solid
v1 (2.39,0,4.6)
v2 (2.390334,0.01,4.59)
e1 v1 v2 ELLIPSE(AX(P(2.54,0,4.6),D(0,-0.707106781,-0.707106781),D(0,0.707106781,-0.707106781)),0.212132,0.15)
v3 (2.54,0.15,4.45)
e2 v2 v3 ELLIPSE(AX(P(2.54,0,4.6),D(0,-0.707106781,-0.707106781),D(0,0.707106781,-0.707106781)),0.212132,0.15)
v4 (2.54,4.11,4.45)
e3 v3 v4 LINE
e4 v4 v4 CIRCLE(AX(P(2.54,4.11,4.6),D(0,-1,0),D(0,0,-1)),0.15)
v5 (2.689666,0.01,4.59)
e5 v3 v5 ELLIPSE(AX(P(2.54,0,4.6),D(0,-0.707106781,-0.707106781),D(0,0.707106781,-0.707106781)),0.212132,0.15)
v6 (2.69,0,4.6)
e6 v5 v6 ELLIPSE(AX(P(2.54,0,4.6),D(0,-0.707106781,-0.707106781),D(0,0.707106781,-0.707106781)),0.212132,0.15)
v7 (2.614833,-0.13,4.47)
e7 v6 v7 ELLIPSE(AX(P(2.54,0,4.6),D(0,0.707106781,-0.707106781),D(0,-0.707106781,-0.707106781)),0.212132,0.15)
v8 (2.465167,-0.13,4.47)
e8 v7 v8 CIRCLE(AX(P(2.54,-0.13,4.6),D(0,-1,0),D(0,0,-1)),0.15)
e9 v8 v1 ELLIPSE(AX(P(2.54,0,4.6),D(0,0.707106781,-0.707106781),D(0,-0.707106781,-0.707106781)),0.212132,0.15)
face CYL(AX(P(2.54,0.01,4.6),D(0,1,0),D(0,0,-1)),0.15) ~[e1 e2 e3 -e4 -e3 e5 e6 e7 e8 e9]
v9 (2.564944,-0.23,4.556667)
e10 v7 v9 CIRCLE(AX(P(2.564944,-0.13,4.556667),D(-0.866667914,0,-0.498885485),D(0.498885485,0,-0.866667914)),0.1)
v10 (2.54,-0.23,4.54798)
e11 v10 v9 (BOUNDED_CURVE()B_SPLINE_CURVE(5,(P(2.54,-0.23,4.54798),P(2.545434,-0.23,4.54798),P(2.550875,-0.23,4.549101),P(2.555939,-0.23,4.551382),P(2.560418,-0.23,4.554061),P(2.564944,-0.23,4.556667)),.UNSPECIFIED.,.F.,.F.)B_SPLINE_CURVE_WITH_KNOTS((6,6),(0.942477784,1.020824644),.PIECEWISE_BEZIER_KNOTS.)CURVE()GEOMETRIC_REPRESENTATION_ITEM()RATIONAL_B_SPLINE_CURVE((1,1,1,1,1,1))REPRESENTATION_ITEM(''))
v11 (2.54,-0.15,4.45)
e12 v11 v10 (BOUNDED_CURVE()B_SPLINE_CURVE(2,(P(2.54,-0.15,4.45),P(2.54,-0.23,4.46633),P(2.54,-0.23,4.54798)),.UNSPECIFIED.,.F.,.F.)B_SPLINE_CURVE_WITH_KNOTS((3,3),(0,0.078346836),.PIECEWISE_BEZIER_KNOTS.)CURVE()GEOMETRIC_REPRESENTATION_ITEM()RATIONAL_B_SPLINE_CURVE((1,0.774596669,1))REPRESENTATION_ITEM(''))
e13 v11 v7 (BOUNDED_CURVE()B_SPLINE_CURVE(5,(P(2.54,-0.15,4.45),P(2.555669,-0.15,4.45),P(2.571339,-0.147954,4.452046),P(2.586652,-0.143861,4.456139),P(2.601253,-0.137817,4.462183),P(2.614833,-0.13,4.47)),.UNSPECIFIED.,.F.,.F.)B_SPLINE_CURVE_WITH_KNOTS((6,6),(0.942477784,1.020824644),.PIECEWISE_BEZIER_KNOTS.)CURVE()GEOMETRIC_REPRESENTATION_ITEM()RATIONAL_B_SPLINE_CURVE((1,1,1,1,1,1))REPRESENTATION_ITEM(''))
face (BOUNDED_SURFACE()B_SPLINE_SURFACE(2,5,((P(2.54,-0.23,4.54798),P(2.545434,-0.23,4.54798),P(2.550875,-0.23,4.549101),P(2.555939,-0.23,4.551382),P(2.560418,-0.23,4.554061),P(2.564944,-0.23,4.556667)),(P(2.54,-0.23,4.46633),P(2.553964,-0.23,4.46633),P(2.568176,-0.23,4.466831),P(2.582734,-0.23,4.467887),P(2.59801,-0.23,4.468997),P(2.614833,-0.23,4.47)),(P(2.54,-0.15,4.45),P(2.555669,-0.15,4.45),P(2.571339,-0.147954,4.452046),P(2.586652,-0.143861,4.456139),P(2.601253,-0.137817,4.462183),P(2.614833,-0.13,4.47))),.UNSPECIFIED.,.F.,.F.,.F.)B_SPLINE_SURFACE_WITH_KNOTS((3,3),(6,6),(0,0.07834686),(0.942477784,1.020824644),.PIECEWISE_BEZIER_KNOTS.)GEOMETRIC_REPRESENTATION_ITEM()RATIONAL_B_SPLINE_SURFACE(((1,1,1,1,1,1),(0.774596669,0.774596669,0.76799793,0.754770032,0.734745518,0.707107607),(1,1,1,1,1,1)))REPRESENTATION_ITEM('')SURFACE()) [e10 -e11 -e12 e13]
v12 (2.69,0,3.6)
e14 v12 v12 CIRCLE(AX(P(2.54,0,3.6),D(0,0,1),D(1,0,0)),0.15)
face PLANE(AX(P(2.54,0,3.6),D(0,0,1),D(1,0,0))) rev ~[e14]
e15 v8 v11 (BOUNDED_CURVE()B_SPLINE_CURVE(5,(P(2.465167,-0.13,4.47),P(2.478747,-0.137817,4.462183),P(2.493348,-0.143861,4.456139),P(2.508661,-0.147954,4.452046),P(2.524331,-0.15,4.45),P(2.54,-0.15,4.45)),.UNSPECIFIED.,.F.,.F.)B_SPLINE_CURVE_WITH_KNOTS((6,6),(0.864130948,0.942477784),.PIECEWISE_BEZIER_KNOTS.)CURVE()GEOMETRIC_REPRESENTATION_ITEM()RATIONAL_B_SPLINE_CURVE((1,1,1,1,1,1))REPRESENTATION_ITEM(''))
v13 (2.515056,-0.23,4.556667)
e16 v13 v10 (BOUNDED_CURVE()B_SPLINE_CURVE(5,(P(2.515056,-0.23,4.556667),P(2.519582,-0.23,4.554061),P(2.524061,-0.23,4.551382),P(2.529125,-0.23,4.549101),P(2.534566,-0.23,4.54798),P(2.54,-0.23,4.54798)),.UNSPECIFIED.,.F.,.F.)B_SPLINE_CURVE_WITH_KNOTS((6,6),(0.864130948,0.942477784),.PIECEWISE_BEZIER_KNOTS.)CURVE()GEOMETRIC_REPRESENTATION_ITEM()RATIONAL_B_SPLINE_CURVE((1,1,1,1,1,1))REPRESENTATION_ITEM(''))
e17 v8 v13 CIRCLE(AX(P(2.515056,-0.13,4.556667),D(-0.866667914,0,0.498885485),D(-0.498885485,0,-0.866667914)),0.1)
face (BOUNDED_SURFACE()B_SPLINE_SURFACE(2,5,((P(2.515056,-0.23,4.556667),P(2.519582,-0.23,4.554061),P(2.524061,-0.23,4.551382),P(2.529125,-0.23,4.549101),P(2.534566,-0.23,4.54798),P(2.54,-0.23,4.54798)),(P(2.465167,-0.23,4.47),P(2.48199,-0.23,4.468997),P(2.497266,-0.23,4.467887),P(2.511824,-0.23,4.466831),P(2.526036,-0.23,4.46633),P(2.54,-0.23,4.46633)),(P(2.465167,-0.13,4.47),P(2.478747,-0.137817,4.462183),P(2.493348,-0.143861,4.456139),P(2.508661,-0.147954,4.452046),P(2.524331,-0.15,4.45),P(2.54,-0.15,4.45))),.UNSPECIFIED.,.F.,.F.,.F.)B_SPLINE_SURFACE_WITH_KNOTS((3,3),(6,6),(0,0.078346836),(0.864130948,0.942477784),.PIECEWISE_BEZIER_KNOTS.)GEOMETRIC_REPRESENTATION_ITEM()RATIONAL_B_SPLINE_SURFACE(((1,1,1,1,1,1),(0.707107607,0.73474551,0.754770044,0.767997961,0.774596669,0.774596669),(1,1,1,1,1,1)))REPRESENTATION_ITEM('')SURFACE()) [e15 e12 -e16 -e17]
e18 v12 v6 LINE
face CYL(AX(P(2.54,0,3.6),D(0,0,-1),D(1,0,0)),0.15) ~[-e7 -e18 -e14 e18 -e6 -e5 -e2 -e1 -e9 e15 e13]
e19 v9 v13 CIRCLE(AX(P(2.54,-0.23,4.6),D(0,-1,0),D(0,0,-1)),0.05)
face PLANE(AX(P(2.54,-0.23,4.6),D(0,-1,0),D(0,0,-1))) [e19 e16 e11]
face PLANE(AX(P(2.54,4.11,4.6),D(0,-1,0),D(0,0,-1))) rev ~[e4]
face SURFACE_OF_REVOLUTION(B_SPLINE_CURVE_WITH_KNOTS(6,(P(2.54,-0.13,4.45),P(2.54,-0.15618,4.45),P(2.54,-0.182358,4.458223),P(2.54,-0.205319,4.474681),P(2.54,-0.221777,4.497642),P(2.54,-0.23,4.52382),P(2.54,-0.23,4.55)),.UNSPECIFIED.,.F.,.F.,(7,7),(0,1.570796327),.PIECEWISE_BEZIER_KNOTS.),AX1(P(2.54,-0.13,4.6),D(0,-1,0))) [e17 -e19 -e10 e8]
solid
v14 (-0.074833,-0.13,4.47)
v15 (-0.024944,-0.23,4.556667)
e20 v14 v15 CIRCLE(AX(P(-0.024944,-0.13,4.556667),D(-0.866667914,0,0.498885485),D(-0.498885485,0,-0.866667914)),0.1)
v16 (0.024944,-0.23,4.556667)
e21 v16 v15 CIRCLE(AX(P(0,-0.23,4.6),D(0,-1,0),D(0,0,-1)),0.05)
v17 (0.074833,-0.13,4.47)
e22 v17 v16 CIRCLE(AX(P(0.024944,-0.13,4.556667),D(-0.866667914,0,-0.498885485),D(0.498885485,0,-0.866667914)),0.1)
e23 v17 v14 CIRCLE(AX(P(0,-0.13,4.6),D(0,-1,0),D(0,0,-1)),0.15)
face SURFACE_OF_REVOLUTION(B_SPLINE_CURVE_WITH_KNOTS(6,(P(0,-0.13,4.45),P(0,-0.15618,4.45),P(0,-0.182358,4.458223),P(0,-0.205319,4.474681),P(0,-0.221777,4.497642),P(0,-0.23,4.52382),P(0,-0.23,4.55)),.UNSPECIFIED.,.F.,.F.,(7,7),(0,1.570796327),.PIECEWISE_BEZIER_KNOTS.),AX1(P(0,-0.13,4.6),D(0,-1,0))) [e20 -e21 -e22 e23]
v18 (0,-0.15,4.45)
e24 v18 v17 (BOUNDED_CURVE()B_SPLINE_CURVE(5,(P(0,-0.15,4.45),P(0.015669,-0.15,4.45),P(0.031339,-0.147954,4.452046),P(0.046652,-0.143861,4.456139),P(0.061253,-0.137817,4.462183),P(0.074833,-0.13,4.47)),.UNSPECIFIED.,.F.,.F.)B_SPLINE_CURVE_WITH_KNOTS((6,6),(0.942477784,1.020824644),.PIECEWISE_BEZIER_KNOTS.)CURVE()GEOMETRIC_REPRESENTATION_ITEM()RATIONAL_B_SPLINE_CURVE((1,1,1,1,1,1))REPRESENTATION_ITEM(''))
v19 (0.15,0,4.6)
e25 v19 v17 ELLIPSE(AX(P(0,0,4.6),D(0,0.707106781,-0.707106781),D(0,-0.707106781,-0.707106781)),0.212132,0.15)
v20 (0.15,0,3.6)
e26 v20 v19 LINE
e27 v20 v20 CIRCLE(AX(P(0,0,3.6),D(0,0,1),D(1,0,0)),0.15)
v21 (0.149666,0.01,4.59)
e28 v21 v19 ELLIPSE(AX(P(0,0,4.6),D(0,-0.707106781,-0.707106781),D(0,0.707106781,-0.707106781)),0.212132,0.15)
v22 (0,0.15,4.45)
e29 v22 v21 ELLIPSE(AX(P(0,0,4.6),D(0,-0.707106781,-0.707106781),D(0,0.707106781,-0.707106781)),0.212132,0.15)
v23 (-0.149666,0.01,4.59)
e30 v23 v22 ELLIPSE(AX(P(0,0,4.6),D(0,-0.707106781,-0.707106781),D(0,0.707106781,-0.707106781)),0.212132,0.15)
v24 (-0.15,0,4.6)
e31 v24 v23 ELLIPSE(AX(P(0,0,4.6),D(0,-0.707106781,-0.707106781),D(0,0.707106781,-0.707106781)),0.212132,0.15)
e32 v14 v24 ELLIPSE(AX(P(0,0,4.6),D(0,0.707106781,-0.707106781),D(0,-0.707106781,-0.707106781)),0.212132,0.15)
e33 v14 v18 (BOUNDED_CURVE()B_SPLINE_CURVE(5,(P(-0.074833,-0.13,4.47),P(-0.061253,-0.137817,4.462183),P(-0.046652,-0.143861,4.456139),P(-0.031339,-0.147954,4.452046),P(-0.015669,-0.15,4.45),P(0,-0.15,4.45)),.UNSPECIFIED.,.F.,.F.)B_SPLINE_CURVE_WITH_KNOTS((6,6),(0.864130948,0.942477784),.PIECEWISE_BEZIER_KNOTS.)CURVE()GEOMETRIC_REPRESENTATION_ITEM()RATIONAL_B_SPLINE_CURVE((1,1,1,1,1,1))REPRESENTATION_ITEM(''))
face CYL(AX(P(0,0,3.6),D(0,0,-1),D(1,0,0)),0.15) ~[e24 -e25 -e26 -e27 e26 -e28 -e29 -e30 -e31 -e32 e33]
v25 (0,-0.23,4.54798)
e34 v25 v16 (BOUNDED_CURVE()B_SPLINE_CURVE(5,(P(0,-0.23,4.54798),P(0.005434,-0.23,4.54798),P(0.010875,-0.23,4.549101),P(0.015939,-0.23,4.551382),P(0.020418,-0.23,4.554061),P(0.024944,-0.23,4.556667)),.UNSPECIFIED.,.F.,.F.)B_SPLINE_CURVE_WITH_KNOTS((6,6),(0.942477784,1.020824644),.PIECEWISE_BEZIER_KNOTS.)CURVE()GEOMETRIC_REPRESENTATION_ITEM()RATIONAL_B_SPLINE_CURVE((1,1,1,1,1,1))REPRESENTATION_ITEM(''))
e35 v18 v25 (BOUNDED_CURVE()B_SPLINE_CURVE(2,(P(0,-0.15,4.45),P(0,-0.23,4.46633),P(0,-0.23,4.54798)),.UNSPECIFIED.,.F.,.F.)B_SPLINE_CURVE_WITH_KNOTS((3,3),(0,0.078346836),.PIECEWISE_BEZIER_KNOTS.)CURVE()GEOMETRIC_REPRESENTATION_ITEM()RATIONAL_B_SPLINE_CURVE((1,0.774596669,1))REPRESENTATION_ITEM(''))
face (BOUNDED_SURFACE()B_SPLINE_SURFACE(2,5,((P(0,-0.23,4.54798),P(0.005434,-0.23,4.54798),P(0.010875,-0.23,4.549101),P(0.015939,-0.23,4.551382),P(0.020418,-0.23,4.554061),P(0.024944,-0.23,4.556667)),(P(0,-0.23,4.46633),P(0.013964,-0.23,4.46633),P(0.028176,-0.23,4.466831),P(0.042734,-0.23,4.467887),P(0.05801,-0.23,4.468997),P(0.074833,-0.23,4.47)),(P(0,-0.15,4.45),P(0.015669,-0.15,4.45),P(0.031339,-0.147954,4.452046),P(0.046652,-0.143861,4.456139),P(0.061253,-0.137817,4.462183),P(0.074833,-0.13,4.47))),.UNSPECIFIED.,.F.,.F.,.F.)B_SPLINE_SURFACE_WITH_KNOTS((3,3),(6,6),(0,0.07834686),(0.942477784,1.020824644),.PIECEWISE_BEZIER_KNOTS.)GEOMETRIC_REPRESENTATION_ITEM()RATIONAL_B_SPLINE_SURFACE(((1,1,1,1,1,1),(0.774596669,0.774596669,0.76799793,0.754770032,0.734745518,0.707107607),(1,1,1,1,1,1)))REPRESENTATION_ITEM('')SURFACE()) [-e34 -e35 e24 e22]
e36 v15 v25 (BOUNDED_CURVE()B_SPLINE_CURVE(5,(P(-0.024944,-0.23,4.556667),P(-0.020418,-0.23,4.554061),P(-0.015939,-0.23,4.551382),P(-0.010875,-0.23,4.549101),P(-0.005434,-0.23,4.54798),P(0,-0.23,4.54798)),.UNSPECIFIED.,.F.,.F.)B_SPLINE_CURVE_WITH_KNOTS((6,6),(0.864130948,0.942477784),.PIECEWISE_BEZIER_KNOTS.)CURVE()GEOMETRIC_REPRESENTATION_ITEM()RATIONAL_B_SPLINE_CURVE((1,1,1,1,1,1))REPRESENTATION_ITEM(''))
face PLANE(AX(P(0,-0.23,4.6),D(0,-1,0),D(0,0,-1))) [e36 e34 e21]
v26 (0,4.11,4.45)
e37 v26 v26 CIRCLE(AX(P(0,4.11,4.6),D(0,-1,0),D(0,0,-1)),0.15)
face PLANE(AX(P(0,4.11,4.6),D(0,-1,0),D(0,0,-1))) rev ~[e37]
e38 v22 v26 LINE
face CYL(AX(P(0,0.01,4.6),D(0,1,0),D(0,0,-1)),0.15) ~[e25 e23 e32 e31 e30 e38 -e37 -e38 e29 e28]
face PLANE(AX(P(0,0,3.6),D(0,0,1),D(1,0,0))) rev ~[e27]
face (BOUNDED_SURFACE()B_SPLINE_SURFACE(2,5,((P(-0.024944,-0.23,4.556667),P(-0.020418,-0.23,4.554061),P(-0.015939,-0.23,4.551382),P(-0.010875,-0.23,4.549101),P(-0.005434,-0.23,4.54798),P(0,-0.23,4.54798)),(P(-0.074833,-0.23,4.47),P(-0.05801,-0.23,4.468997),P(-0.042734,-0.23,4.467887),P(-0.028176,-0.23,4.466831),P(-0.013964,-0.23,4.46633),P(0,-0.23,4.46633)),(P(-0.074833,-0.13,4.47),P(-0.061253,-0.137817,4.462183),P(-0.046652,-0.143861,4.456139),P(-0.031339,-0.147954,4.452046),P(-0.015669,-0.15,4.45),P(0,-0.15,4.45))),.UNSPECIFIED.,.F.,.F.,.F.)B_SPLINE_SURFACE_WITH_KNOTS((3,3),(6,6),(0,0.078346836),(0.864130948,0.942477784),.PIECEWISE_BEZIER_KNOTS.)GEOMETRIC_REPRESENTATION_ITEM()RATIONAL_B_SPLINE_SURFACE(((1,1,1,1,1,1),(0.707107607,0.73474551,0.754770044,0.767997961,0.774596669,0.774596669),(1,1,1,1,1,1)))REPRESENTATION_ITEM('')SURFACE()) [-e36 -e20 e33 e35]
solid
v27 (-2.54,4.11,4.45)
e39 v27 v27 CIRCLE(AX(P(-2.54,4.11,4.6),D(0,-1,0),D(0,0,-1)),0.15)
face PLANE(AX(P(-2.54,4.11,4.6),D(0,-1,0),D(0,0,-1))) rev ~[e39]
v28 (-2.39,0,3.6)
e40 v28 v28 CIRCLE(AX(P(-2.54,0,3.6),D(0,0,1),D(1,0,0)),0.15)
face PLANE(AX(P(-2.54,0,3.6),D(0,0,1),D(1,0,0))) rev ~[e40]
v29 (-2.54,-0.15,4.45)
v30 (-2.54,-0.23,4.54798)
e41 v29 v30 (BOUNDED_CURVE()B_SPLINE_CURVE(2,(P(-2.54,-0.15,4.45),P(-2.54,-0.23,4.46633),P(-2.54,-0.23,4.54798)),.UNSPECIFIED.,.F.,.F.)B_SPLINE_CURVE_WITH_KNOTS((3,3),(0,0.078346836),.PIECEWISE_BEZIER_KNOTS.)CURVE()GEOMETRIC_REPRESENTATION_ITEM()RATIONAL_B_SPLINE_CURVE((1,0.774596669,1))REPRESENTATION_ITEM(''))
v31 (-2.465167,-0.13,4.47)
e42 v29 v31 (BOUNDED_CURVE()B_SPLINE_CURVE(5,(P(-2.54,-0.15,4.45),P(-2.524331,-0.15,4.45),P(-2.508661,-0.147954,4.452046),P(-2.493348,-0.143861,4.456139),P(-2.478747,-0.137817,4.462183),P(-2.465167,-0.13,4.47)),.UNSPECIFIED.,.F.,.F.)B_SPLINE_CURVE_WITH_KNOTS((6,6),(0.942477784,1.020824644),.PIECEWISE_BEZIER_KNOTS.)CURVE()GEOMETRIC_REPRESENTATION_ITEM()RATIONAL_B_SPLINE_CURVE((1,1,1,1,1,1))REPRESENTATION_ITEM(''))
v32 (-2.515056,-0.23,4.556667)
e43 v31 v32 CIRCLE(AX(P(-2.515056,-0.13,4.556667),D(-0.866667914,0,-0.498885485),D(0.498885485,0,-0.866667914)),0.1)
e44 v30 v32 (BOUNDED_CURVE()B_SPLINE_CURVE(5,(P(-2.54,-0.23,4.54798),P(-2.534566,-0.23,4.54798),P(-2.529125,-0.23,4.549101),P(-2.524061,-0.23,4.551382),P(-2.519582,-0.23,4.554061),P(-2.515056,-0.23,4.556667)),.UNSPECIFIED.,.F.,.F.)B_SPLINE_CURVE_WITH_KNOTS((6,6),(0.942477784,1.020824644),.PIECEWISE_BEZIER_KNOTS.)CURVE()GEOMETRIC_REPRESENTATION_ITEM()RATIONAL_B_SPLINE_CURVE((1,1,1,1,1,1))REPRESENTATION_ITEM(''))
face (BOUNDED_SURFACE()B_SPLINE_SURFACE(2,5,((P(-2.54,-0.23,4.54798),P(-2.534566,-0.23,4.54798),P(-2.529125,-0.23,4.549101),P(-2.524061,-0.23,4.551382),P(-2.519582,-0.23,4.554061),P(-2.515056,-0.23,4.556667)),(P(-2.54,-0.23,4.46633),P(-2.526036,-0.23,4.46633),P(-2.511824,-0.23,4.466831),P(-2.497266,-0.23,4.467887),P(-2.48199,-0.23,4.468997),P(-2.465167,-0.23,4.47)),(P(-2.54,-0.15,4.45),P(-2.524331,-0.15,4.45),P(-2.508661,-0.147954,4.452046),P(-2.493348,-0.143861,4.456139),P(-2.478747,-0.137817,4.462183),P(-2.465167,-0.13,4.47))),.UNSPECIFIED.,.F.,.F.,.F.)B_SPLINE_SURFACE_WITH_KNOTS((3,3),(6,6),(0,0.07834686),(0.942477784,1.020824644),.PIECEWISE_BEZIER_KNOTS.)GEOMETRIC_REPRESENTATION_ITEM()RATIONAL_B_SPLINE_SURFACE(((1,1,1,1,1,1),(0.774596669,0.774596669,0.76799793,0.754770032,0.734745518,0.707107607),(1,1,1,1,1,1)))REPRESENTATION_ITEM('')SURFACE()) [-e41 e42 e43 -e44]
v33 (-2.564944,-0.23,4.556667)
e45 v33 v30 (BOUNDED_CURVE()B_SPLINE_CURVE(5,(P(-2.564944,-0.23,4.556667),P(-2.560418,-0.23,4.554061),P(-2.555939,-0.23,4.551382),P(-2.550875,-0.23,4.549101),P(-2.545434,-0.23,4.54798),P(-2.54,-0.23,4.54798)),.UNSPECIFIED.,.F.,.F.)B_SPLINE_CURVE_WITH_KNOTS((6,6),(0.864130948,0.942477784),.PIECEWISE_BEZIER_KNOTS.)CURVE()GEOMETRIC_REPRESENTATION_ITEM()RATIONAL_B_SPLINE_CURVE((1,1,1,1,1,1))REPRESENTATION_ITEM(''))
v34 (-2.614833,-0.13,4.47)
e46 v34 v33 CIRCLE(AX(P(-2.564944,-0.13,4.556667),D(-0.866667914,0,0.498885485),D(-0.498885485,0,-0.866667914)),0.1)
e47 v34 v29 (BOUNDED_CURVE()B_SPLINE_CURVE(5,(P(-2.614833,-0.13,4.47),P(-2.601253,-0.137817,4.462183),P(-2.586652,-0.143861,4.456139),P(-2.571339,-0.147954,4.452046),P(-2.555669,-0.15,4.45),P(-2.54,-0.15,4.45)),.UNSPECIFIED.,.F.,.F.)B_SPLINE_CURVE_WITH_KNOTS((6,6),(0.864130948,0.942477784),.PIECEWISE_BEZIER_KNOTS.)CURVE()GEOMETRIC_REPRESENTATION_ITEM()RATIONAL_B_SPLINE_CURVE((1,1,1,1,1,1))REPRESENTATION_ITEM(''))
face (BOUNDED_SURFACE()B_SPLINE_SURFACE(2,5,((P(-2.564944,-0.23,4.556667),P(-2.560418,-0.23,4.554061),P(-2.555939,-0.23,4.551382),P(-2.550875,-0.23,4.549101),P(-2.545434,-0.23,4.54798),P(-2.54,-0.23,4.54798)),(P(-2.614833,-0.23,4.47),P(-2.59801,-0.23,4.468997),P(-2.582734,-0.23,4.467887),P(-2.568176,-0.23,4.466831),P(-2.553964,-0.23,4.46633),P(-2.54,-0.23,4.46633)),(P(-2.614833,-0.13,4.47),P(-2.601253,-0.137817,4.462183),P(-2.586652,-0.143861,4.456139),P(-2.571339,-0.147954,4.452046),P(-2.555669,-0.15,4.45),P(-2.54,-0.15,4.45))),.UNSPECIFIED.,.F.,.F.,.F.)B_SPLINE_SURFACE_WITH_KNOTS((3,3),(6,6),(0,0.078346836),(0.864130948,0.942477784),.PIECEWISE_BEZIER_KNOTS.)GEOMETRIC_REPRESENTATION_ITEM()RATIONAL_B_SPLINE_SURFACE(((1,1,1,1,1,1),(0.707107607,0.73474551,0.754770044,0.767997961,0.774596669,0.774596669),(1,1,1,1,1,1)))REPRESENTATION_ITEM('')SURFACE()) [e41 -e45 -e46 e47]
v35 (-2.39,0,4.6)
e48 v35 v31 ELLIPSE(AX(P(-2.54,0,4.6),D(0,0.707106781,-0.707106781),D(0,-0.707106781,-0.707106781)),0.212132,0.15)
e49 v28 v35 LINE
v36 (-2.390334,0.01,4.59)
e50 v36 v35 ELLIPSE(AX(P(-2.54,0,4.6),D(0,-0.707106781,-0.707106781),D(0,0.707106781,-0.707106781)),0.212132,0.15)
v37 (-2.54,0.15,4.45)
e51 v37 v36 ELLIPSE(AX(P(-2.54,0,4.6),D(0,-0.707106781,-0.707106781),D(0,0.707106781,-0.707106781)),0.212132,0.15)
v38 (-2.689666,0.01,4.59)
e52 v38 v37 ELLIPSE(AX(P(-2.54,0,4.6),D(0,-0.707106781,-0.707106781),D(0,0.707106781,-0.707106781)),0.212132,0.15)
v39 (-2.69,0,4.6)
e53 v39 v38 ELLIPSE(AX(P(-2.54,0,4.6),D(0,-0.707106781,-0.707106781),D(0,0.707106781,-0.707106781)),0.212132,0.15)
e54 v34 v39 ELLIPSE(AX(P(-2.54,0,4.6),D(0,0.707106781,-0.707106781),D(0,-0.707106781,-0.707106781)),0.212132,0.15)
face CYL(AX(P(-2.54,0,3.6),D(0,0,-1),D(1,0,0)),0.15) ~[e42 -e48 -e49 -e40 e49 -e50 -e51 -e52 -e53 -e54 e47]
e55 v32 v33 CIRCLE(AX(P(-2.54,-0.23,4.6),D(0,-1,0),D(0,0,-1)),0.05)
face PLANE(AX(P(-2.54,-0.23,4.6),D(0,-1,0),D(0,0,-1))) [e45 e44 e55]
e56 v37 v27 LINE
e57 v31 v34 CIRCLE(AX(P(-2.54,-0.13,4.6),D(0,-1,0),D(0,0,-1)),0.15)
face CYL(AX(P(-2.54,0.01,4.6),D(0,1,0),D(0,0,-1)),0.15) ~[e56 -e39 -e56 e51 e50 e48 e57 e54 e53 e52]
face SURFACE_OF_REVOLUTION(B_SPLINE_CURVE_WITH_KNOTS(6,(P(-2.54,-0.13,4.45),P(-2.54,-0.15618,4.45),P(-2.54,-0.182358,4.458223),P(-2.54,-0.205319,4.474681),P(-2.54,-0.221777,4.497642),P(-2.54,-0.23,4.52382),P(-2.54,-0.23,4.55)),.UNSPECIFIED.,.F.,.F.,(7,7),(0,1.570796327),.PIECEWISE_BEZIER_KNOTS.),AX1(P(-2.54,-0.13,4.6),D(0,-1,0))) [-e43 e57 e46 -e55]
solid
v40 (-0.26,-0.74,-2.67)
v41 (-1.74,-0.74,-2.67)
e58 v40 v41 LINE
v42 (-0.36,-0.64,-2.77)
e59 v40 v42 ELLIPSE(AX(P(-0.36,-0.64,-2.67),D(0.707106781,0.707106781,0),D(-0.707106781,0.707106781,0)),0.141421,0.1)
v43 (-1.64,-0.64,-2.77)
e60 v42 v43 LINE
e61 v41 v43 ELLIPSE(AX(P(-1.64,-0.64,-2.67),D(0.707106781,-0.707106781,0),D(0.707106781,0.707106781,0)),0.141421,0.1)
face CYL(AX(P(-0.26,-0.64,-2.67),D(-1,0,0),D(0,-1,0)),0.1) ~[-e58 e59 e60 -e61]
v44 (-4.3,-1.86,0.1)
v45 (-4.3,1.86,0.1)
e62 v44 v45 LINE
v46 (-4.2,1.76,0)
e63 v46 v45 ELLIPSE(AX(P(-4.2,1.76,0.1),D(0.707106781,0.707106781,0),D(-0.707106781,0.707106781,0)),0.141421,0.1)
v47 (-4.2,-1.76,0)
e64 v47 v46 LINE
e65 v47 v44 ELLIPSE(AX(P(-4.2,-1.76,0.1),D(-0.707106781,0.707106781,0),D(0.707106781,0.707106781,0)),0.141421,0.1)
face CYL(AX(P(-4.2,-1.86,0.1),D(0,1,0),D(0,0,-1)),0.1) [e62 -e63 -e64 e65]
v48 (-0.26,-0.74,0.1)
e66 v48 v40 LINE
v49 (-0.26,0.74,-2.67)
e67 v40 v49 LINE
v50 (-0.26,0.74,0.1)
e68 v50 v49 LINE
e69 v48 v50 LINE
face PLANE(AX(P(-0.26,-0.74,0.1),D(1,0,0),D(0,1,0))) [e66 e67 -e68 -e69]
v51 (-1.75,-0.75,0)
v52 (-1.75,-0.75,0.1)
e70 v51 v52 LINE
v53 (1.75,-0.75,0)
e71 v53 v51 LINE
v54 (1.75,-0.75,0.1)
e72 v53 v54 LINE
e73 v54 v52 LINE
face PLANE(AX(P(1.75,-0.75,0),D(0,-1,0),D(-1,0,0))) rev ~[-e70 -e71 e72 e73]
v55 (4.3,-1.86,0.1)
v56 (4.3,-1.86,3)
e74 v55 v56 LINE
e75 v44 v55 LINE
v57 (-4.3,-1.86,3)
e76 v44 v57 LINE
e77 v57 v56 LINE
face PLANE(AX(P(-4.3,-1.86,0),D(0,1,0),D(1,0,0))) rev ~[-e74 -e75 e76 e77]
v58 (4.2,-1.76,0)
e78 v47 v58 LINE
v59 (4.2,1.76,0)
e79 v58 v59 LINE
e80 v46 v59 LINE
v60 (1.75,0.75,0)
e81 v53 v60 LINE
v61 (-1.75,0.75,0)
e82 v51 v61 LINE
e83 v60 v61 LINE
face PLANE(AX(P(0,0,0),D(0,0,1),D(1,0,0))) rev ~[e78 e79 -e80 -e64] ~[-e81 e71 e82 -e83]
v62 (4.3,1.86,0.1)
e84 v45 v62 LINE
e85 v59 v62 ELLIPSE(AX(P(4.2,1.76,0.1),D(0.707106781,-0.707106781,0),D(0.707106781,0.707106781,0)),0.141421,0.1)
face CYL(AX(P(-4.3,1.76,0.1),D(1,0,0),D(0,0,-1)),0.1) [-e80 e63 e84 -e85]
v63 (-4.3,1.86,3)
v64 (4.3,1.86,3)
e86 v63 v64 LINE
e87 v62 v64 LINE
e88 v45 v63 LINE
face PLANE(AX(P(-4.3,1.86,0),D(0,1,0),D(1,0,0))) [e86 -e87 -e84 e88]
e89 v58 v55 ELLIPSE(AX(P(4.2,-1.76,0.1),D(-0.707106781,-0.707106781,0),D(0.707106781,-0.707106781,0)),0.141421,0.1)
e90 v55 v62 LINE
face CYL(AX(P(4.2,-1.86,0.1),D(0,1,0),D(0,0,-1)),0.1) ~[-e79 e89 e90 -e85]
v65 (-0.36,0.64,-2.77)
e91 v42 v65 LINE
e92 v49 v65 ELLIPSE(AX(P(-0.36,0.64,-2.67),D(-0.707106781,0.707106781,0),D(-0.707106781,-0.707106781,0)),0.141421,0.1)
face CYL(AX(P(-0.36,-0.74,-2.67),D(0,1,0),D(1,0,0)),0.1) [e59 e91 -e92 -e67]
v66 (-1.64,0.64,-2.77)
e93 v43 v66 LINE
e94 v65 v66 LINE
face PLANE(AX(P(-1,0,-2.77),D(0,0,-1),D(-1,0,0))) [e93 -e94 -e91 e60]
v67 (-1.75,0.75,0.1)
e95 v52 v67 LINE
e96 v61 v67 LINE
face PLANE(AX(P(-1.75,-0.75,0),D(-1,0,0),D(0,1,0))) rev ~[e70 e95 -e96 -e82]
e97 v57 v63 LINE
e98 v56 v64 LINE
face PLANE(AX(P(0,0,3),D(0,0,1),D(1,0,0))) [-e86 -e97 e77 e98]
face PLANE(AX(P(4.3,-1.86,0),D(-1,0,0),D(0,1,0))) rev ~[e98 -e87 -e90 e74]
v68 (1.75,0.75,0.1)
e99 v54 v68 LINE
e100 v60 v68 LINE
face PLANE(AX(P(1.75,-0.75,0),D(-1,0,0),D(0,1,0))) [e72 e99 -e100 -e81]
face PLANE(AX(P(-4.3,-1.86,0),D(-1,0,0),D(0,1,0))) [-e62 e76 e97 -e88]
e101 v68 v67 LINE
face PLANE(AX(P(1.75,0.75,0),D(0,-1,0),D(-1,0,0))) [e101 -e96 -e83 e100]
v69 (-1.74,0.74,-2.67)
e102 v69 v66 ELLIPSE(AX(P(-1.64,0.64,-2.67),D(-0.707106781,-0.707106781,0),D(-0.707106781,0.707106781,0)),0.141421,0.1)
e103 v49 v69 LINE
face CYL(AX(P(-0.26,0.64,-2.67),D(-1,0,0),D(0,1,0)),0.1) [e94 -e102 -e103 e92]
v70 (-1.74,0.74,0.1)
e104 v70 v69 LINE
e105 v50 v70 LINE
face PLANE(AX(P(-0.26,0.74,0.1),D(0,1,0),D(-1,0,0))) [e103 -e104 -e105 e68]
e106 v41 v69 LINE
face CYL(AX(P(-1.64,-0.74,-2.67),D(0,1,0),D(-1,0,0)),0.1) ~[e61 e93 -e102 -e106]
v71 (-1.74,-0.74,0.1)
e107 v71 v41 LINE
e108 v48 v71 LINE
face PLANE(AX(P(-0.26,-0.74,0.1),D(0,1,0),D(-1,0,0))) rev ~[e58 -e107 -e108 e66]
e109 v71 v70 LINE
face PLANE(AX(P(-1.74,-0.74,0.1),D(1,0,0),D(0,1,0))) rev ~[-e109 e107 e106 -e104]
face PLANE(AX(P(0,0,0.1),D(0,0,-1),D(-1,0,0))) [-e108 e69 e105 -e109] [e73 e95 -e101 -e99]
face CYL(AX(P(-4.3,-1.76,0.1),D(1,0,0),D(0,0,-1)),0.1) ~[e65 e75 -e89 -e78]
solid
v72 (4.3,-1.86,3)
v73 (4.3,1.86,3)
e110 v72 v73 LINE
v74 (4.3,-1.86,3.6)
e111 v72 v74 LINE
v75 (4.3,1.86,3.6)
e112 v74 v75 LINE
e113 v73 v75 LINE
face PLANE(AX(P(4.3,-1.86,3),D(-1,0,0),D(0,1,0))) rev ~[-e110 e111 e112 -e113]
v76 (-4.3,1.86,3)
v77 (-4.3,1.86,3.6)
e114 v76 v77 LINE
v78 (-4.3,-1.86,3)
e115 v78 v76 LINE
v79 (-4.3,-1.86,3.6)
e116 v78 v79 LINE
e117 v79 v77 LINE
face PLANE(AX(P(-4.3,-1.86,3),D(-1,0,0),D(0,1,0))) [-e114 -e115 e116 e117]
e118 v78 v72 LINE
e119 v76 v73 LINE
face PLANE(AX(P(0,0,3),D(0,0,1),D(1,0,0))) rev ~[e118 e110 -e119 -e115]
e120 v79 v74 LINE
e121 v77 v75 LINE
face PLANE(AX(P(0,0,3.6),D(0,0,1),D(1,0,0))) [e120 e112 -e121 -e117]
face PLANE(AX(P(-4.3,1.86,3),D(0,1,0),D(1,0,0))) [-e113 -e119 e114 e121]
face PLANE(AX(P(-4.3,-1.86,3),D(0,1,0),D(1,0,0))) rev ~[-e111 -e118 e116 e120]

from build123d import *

# Parameters (mm, degrees)
SKETCH_1_W           = 8.6
SKETCH_1_H           = 3.72
EXTRUDE_1_DEPTH      = 3
SKETCH_2_W           = 8.6
SKETCH_2_H           = 3.72
EXTRUDE_2_DEPTH      = 0.6
SKETCH_3_W           = 3.5
SKETCH_3_H           = 1.5
CUT_EXTRUDE_1_DEPTH  = 0.1
SKETCH_4_W           = 1.48
SKETCH_4_H           = 1.48
EXTRUDE_3_DEPTH      = 2.87
FILLET_1_R           = 0.1
FILLET_2_R           = 0.1
SKETCH_5_R           = 0.15
EXTRUDE_4_DEPTH      = 1
EXTRUDE_4_2_DEPTH    = 1
EXTRUDE_4_3_DEPTH    = 1
SKETCH_6_R           = 0.15
EXTRUDE_5_DEPTH      = 0.24
EXTRUDE_5_DEPTH_BACK = 4.1
FILLET_3_R           = 0.1
FILLET_4_R           = 0.1
FILLET_5_R           = 0.1


with BuildPart() as part:
    # Эскиз1 → Бобышка-Вытянуть1 (new body)
    with BuildSketch(Plane.XY):
        Rectangle(SKETCH_1_W, SKETCH_1_H)
    extrude(amount=EXTRUDE_1_DEPTH)

    # Эскиз3 → Вырез-Вытянуть1 (cut)
    with BuildSketch(Plane(origin=(0, 0, 0), x_dir=(-1, 0, 0), z_dir=(0, 0, -1))):
        Rectangle(SKETCH_3_W, SKETCH_3_H)
    extrude(amount=-CUT_EXTRUDE_1_DEPTH, mode=Mode.SUBTRACT)

    # Эскиз4 → Бобышка-Вытянуть3 (add)
    with BuildSketch(Plane(origin=(0, 0, 0.1), x_dir=(-1, 0, 0), z_dir=(0, 0, -1))):
        with Locations((1, 0)):
            Rectangle(SKETCH_4_W, SKETCH_4_H)
    extrude(amount=EXTRUDE_3_DEPTH)

    # Скругление1
    fillet_1_edges = [part.edges().sort_by_distance(p)[0] for p in [
        (-1.74, 0, -2.77),
        (-1, 0.74, -2.77),
        (-0.26, 0, -2.77),
        (-1, -0.74, -2.77),
    ]]
    fillet(fillet_1_edges, radius=FILLET_1_R)

    # Скругление2
    fillet_2_edges = [part.edges().sort_by_distance(p)[0] for p in [
        (0, -1.86, 0),
        (-4.3, 0, 0),
        (0, 1.86, 0),
        (4.3, 0, 0),
    ]]
    fillet(fillet_2_edges, radius=FILLET_2_R)


with BuildPart() as body_2:
    # Эскиз2 → Бобышка-Вытянуть2 (new body)
    with BuildSketch(Plane.XY.offset(3)):
        Rectangle(SKETCH_2_W, SKETCH_2_H)
    extrude(amount=EXTRUDE_2_DEPTH)


with BuildPart() as body_3:
    # Эскиз5 → Бобышка-Вытянуть4 (new body)
    with BuildSketch(Plane.XY.offset(3.6)):
        Circle(SKETCH_5_R)
    extrude(amount=EXTRUDE_4_DEPTH)



with BuildPart() as body_4:
    # Эскиз5 → Extrude 4 2 (new body)
    with BuildSketch(Plane.XY.offset(3.6)):
        with Locations((-2.54, 0)):
            Circle(SKETCH_5_R)
    extrude(amount=EXTRUDE_4_2_DEPTH)


with BuildPart() as body_5:
    # Эскиз5 → Extrude 4 3 (new body)
    with BuildSketch(Plane.XY.offset(3.6)):
        with Locations((2.54, 0)):
            Circle(SKETCH_5_R)
    extrude(amount=EXTRUDE_4_3_DEPTH)


with BuildPart() as body_3_1:
    add(body_3.part)

    add(body_4.part)  # Бобышка-Вытянуть5 merges body 4

    add(body_5.part)  # Бобышка-Вытянуть5 merges body 5
    # Эскиз6 → Бобышка-Вытянуть5 (add, two sides)
    with BuildSketch(Plane(origin=(0, 0.01, 0), x_dir=(-1, 0, 0), z_dir=(0, -1, 0))) as extrude_5_sk:
        with Locations(Location((-2.54, -4.6, 0), (0, 0, 90))):
            Circle(SKETCH_6_R)
        with Locations(Location((0, -4.6, 0), (0, 0, 90))):
            Circle(SKETCH_6_R)
        with Locations(Location((2.54, -4.6, 0), (0, 0, 90))):
            Circle(SKETCH_6_R)
    extrude(amount=EXTRUDE_5_DEPTH)
    extrude(extrude_5_sk.sketch, amount=-EXTRUDE_5_DEPTH_BACK)

    # Скругление3
    fillet_3_edges = [body_3_1.edges().sort_by_distance(p)[0] for p in [
        (2.54, -0.23, 4.75),
    ]]
    fillet(fillet_3_edges, radius=FILLET_3_R)

    # Скругление4
    fillet_4_edges = [body_3_1.edges().sort_by_distance(p)[0] for p in [
        (0, -0.23, 4.75),
    ]]
    fillet(fillet_4_edges, radius=FILLET_4_R)

    # Скругление5
    fillet_5_edges = [body_3_1.edges().sort_by_distance(p)[0] for p in [
        (-2.54, -0.23, 4.75),
    ]]
    fillet(fillet_5_edges, radius=FILLET_5_R)


solid = Compound([part.part, body_2.part, body_3_1.part])
